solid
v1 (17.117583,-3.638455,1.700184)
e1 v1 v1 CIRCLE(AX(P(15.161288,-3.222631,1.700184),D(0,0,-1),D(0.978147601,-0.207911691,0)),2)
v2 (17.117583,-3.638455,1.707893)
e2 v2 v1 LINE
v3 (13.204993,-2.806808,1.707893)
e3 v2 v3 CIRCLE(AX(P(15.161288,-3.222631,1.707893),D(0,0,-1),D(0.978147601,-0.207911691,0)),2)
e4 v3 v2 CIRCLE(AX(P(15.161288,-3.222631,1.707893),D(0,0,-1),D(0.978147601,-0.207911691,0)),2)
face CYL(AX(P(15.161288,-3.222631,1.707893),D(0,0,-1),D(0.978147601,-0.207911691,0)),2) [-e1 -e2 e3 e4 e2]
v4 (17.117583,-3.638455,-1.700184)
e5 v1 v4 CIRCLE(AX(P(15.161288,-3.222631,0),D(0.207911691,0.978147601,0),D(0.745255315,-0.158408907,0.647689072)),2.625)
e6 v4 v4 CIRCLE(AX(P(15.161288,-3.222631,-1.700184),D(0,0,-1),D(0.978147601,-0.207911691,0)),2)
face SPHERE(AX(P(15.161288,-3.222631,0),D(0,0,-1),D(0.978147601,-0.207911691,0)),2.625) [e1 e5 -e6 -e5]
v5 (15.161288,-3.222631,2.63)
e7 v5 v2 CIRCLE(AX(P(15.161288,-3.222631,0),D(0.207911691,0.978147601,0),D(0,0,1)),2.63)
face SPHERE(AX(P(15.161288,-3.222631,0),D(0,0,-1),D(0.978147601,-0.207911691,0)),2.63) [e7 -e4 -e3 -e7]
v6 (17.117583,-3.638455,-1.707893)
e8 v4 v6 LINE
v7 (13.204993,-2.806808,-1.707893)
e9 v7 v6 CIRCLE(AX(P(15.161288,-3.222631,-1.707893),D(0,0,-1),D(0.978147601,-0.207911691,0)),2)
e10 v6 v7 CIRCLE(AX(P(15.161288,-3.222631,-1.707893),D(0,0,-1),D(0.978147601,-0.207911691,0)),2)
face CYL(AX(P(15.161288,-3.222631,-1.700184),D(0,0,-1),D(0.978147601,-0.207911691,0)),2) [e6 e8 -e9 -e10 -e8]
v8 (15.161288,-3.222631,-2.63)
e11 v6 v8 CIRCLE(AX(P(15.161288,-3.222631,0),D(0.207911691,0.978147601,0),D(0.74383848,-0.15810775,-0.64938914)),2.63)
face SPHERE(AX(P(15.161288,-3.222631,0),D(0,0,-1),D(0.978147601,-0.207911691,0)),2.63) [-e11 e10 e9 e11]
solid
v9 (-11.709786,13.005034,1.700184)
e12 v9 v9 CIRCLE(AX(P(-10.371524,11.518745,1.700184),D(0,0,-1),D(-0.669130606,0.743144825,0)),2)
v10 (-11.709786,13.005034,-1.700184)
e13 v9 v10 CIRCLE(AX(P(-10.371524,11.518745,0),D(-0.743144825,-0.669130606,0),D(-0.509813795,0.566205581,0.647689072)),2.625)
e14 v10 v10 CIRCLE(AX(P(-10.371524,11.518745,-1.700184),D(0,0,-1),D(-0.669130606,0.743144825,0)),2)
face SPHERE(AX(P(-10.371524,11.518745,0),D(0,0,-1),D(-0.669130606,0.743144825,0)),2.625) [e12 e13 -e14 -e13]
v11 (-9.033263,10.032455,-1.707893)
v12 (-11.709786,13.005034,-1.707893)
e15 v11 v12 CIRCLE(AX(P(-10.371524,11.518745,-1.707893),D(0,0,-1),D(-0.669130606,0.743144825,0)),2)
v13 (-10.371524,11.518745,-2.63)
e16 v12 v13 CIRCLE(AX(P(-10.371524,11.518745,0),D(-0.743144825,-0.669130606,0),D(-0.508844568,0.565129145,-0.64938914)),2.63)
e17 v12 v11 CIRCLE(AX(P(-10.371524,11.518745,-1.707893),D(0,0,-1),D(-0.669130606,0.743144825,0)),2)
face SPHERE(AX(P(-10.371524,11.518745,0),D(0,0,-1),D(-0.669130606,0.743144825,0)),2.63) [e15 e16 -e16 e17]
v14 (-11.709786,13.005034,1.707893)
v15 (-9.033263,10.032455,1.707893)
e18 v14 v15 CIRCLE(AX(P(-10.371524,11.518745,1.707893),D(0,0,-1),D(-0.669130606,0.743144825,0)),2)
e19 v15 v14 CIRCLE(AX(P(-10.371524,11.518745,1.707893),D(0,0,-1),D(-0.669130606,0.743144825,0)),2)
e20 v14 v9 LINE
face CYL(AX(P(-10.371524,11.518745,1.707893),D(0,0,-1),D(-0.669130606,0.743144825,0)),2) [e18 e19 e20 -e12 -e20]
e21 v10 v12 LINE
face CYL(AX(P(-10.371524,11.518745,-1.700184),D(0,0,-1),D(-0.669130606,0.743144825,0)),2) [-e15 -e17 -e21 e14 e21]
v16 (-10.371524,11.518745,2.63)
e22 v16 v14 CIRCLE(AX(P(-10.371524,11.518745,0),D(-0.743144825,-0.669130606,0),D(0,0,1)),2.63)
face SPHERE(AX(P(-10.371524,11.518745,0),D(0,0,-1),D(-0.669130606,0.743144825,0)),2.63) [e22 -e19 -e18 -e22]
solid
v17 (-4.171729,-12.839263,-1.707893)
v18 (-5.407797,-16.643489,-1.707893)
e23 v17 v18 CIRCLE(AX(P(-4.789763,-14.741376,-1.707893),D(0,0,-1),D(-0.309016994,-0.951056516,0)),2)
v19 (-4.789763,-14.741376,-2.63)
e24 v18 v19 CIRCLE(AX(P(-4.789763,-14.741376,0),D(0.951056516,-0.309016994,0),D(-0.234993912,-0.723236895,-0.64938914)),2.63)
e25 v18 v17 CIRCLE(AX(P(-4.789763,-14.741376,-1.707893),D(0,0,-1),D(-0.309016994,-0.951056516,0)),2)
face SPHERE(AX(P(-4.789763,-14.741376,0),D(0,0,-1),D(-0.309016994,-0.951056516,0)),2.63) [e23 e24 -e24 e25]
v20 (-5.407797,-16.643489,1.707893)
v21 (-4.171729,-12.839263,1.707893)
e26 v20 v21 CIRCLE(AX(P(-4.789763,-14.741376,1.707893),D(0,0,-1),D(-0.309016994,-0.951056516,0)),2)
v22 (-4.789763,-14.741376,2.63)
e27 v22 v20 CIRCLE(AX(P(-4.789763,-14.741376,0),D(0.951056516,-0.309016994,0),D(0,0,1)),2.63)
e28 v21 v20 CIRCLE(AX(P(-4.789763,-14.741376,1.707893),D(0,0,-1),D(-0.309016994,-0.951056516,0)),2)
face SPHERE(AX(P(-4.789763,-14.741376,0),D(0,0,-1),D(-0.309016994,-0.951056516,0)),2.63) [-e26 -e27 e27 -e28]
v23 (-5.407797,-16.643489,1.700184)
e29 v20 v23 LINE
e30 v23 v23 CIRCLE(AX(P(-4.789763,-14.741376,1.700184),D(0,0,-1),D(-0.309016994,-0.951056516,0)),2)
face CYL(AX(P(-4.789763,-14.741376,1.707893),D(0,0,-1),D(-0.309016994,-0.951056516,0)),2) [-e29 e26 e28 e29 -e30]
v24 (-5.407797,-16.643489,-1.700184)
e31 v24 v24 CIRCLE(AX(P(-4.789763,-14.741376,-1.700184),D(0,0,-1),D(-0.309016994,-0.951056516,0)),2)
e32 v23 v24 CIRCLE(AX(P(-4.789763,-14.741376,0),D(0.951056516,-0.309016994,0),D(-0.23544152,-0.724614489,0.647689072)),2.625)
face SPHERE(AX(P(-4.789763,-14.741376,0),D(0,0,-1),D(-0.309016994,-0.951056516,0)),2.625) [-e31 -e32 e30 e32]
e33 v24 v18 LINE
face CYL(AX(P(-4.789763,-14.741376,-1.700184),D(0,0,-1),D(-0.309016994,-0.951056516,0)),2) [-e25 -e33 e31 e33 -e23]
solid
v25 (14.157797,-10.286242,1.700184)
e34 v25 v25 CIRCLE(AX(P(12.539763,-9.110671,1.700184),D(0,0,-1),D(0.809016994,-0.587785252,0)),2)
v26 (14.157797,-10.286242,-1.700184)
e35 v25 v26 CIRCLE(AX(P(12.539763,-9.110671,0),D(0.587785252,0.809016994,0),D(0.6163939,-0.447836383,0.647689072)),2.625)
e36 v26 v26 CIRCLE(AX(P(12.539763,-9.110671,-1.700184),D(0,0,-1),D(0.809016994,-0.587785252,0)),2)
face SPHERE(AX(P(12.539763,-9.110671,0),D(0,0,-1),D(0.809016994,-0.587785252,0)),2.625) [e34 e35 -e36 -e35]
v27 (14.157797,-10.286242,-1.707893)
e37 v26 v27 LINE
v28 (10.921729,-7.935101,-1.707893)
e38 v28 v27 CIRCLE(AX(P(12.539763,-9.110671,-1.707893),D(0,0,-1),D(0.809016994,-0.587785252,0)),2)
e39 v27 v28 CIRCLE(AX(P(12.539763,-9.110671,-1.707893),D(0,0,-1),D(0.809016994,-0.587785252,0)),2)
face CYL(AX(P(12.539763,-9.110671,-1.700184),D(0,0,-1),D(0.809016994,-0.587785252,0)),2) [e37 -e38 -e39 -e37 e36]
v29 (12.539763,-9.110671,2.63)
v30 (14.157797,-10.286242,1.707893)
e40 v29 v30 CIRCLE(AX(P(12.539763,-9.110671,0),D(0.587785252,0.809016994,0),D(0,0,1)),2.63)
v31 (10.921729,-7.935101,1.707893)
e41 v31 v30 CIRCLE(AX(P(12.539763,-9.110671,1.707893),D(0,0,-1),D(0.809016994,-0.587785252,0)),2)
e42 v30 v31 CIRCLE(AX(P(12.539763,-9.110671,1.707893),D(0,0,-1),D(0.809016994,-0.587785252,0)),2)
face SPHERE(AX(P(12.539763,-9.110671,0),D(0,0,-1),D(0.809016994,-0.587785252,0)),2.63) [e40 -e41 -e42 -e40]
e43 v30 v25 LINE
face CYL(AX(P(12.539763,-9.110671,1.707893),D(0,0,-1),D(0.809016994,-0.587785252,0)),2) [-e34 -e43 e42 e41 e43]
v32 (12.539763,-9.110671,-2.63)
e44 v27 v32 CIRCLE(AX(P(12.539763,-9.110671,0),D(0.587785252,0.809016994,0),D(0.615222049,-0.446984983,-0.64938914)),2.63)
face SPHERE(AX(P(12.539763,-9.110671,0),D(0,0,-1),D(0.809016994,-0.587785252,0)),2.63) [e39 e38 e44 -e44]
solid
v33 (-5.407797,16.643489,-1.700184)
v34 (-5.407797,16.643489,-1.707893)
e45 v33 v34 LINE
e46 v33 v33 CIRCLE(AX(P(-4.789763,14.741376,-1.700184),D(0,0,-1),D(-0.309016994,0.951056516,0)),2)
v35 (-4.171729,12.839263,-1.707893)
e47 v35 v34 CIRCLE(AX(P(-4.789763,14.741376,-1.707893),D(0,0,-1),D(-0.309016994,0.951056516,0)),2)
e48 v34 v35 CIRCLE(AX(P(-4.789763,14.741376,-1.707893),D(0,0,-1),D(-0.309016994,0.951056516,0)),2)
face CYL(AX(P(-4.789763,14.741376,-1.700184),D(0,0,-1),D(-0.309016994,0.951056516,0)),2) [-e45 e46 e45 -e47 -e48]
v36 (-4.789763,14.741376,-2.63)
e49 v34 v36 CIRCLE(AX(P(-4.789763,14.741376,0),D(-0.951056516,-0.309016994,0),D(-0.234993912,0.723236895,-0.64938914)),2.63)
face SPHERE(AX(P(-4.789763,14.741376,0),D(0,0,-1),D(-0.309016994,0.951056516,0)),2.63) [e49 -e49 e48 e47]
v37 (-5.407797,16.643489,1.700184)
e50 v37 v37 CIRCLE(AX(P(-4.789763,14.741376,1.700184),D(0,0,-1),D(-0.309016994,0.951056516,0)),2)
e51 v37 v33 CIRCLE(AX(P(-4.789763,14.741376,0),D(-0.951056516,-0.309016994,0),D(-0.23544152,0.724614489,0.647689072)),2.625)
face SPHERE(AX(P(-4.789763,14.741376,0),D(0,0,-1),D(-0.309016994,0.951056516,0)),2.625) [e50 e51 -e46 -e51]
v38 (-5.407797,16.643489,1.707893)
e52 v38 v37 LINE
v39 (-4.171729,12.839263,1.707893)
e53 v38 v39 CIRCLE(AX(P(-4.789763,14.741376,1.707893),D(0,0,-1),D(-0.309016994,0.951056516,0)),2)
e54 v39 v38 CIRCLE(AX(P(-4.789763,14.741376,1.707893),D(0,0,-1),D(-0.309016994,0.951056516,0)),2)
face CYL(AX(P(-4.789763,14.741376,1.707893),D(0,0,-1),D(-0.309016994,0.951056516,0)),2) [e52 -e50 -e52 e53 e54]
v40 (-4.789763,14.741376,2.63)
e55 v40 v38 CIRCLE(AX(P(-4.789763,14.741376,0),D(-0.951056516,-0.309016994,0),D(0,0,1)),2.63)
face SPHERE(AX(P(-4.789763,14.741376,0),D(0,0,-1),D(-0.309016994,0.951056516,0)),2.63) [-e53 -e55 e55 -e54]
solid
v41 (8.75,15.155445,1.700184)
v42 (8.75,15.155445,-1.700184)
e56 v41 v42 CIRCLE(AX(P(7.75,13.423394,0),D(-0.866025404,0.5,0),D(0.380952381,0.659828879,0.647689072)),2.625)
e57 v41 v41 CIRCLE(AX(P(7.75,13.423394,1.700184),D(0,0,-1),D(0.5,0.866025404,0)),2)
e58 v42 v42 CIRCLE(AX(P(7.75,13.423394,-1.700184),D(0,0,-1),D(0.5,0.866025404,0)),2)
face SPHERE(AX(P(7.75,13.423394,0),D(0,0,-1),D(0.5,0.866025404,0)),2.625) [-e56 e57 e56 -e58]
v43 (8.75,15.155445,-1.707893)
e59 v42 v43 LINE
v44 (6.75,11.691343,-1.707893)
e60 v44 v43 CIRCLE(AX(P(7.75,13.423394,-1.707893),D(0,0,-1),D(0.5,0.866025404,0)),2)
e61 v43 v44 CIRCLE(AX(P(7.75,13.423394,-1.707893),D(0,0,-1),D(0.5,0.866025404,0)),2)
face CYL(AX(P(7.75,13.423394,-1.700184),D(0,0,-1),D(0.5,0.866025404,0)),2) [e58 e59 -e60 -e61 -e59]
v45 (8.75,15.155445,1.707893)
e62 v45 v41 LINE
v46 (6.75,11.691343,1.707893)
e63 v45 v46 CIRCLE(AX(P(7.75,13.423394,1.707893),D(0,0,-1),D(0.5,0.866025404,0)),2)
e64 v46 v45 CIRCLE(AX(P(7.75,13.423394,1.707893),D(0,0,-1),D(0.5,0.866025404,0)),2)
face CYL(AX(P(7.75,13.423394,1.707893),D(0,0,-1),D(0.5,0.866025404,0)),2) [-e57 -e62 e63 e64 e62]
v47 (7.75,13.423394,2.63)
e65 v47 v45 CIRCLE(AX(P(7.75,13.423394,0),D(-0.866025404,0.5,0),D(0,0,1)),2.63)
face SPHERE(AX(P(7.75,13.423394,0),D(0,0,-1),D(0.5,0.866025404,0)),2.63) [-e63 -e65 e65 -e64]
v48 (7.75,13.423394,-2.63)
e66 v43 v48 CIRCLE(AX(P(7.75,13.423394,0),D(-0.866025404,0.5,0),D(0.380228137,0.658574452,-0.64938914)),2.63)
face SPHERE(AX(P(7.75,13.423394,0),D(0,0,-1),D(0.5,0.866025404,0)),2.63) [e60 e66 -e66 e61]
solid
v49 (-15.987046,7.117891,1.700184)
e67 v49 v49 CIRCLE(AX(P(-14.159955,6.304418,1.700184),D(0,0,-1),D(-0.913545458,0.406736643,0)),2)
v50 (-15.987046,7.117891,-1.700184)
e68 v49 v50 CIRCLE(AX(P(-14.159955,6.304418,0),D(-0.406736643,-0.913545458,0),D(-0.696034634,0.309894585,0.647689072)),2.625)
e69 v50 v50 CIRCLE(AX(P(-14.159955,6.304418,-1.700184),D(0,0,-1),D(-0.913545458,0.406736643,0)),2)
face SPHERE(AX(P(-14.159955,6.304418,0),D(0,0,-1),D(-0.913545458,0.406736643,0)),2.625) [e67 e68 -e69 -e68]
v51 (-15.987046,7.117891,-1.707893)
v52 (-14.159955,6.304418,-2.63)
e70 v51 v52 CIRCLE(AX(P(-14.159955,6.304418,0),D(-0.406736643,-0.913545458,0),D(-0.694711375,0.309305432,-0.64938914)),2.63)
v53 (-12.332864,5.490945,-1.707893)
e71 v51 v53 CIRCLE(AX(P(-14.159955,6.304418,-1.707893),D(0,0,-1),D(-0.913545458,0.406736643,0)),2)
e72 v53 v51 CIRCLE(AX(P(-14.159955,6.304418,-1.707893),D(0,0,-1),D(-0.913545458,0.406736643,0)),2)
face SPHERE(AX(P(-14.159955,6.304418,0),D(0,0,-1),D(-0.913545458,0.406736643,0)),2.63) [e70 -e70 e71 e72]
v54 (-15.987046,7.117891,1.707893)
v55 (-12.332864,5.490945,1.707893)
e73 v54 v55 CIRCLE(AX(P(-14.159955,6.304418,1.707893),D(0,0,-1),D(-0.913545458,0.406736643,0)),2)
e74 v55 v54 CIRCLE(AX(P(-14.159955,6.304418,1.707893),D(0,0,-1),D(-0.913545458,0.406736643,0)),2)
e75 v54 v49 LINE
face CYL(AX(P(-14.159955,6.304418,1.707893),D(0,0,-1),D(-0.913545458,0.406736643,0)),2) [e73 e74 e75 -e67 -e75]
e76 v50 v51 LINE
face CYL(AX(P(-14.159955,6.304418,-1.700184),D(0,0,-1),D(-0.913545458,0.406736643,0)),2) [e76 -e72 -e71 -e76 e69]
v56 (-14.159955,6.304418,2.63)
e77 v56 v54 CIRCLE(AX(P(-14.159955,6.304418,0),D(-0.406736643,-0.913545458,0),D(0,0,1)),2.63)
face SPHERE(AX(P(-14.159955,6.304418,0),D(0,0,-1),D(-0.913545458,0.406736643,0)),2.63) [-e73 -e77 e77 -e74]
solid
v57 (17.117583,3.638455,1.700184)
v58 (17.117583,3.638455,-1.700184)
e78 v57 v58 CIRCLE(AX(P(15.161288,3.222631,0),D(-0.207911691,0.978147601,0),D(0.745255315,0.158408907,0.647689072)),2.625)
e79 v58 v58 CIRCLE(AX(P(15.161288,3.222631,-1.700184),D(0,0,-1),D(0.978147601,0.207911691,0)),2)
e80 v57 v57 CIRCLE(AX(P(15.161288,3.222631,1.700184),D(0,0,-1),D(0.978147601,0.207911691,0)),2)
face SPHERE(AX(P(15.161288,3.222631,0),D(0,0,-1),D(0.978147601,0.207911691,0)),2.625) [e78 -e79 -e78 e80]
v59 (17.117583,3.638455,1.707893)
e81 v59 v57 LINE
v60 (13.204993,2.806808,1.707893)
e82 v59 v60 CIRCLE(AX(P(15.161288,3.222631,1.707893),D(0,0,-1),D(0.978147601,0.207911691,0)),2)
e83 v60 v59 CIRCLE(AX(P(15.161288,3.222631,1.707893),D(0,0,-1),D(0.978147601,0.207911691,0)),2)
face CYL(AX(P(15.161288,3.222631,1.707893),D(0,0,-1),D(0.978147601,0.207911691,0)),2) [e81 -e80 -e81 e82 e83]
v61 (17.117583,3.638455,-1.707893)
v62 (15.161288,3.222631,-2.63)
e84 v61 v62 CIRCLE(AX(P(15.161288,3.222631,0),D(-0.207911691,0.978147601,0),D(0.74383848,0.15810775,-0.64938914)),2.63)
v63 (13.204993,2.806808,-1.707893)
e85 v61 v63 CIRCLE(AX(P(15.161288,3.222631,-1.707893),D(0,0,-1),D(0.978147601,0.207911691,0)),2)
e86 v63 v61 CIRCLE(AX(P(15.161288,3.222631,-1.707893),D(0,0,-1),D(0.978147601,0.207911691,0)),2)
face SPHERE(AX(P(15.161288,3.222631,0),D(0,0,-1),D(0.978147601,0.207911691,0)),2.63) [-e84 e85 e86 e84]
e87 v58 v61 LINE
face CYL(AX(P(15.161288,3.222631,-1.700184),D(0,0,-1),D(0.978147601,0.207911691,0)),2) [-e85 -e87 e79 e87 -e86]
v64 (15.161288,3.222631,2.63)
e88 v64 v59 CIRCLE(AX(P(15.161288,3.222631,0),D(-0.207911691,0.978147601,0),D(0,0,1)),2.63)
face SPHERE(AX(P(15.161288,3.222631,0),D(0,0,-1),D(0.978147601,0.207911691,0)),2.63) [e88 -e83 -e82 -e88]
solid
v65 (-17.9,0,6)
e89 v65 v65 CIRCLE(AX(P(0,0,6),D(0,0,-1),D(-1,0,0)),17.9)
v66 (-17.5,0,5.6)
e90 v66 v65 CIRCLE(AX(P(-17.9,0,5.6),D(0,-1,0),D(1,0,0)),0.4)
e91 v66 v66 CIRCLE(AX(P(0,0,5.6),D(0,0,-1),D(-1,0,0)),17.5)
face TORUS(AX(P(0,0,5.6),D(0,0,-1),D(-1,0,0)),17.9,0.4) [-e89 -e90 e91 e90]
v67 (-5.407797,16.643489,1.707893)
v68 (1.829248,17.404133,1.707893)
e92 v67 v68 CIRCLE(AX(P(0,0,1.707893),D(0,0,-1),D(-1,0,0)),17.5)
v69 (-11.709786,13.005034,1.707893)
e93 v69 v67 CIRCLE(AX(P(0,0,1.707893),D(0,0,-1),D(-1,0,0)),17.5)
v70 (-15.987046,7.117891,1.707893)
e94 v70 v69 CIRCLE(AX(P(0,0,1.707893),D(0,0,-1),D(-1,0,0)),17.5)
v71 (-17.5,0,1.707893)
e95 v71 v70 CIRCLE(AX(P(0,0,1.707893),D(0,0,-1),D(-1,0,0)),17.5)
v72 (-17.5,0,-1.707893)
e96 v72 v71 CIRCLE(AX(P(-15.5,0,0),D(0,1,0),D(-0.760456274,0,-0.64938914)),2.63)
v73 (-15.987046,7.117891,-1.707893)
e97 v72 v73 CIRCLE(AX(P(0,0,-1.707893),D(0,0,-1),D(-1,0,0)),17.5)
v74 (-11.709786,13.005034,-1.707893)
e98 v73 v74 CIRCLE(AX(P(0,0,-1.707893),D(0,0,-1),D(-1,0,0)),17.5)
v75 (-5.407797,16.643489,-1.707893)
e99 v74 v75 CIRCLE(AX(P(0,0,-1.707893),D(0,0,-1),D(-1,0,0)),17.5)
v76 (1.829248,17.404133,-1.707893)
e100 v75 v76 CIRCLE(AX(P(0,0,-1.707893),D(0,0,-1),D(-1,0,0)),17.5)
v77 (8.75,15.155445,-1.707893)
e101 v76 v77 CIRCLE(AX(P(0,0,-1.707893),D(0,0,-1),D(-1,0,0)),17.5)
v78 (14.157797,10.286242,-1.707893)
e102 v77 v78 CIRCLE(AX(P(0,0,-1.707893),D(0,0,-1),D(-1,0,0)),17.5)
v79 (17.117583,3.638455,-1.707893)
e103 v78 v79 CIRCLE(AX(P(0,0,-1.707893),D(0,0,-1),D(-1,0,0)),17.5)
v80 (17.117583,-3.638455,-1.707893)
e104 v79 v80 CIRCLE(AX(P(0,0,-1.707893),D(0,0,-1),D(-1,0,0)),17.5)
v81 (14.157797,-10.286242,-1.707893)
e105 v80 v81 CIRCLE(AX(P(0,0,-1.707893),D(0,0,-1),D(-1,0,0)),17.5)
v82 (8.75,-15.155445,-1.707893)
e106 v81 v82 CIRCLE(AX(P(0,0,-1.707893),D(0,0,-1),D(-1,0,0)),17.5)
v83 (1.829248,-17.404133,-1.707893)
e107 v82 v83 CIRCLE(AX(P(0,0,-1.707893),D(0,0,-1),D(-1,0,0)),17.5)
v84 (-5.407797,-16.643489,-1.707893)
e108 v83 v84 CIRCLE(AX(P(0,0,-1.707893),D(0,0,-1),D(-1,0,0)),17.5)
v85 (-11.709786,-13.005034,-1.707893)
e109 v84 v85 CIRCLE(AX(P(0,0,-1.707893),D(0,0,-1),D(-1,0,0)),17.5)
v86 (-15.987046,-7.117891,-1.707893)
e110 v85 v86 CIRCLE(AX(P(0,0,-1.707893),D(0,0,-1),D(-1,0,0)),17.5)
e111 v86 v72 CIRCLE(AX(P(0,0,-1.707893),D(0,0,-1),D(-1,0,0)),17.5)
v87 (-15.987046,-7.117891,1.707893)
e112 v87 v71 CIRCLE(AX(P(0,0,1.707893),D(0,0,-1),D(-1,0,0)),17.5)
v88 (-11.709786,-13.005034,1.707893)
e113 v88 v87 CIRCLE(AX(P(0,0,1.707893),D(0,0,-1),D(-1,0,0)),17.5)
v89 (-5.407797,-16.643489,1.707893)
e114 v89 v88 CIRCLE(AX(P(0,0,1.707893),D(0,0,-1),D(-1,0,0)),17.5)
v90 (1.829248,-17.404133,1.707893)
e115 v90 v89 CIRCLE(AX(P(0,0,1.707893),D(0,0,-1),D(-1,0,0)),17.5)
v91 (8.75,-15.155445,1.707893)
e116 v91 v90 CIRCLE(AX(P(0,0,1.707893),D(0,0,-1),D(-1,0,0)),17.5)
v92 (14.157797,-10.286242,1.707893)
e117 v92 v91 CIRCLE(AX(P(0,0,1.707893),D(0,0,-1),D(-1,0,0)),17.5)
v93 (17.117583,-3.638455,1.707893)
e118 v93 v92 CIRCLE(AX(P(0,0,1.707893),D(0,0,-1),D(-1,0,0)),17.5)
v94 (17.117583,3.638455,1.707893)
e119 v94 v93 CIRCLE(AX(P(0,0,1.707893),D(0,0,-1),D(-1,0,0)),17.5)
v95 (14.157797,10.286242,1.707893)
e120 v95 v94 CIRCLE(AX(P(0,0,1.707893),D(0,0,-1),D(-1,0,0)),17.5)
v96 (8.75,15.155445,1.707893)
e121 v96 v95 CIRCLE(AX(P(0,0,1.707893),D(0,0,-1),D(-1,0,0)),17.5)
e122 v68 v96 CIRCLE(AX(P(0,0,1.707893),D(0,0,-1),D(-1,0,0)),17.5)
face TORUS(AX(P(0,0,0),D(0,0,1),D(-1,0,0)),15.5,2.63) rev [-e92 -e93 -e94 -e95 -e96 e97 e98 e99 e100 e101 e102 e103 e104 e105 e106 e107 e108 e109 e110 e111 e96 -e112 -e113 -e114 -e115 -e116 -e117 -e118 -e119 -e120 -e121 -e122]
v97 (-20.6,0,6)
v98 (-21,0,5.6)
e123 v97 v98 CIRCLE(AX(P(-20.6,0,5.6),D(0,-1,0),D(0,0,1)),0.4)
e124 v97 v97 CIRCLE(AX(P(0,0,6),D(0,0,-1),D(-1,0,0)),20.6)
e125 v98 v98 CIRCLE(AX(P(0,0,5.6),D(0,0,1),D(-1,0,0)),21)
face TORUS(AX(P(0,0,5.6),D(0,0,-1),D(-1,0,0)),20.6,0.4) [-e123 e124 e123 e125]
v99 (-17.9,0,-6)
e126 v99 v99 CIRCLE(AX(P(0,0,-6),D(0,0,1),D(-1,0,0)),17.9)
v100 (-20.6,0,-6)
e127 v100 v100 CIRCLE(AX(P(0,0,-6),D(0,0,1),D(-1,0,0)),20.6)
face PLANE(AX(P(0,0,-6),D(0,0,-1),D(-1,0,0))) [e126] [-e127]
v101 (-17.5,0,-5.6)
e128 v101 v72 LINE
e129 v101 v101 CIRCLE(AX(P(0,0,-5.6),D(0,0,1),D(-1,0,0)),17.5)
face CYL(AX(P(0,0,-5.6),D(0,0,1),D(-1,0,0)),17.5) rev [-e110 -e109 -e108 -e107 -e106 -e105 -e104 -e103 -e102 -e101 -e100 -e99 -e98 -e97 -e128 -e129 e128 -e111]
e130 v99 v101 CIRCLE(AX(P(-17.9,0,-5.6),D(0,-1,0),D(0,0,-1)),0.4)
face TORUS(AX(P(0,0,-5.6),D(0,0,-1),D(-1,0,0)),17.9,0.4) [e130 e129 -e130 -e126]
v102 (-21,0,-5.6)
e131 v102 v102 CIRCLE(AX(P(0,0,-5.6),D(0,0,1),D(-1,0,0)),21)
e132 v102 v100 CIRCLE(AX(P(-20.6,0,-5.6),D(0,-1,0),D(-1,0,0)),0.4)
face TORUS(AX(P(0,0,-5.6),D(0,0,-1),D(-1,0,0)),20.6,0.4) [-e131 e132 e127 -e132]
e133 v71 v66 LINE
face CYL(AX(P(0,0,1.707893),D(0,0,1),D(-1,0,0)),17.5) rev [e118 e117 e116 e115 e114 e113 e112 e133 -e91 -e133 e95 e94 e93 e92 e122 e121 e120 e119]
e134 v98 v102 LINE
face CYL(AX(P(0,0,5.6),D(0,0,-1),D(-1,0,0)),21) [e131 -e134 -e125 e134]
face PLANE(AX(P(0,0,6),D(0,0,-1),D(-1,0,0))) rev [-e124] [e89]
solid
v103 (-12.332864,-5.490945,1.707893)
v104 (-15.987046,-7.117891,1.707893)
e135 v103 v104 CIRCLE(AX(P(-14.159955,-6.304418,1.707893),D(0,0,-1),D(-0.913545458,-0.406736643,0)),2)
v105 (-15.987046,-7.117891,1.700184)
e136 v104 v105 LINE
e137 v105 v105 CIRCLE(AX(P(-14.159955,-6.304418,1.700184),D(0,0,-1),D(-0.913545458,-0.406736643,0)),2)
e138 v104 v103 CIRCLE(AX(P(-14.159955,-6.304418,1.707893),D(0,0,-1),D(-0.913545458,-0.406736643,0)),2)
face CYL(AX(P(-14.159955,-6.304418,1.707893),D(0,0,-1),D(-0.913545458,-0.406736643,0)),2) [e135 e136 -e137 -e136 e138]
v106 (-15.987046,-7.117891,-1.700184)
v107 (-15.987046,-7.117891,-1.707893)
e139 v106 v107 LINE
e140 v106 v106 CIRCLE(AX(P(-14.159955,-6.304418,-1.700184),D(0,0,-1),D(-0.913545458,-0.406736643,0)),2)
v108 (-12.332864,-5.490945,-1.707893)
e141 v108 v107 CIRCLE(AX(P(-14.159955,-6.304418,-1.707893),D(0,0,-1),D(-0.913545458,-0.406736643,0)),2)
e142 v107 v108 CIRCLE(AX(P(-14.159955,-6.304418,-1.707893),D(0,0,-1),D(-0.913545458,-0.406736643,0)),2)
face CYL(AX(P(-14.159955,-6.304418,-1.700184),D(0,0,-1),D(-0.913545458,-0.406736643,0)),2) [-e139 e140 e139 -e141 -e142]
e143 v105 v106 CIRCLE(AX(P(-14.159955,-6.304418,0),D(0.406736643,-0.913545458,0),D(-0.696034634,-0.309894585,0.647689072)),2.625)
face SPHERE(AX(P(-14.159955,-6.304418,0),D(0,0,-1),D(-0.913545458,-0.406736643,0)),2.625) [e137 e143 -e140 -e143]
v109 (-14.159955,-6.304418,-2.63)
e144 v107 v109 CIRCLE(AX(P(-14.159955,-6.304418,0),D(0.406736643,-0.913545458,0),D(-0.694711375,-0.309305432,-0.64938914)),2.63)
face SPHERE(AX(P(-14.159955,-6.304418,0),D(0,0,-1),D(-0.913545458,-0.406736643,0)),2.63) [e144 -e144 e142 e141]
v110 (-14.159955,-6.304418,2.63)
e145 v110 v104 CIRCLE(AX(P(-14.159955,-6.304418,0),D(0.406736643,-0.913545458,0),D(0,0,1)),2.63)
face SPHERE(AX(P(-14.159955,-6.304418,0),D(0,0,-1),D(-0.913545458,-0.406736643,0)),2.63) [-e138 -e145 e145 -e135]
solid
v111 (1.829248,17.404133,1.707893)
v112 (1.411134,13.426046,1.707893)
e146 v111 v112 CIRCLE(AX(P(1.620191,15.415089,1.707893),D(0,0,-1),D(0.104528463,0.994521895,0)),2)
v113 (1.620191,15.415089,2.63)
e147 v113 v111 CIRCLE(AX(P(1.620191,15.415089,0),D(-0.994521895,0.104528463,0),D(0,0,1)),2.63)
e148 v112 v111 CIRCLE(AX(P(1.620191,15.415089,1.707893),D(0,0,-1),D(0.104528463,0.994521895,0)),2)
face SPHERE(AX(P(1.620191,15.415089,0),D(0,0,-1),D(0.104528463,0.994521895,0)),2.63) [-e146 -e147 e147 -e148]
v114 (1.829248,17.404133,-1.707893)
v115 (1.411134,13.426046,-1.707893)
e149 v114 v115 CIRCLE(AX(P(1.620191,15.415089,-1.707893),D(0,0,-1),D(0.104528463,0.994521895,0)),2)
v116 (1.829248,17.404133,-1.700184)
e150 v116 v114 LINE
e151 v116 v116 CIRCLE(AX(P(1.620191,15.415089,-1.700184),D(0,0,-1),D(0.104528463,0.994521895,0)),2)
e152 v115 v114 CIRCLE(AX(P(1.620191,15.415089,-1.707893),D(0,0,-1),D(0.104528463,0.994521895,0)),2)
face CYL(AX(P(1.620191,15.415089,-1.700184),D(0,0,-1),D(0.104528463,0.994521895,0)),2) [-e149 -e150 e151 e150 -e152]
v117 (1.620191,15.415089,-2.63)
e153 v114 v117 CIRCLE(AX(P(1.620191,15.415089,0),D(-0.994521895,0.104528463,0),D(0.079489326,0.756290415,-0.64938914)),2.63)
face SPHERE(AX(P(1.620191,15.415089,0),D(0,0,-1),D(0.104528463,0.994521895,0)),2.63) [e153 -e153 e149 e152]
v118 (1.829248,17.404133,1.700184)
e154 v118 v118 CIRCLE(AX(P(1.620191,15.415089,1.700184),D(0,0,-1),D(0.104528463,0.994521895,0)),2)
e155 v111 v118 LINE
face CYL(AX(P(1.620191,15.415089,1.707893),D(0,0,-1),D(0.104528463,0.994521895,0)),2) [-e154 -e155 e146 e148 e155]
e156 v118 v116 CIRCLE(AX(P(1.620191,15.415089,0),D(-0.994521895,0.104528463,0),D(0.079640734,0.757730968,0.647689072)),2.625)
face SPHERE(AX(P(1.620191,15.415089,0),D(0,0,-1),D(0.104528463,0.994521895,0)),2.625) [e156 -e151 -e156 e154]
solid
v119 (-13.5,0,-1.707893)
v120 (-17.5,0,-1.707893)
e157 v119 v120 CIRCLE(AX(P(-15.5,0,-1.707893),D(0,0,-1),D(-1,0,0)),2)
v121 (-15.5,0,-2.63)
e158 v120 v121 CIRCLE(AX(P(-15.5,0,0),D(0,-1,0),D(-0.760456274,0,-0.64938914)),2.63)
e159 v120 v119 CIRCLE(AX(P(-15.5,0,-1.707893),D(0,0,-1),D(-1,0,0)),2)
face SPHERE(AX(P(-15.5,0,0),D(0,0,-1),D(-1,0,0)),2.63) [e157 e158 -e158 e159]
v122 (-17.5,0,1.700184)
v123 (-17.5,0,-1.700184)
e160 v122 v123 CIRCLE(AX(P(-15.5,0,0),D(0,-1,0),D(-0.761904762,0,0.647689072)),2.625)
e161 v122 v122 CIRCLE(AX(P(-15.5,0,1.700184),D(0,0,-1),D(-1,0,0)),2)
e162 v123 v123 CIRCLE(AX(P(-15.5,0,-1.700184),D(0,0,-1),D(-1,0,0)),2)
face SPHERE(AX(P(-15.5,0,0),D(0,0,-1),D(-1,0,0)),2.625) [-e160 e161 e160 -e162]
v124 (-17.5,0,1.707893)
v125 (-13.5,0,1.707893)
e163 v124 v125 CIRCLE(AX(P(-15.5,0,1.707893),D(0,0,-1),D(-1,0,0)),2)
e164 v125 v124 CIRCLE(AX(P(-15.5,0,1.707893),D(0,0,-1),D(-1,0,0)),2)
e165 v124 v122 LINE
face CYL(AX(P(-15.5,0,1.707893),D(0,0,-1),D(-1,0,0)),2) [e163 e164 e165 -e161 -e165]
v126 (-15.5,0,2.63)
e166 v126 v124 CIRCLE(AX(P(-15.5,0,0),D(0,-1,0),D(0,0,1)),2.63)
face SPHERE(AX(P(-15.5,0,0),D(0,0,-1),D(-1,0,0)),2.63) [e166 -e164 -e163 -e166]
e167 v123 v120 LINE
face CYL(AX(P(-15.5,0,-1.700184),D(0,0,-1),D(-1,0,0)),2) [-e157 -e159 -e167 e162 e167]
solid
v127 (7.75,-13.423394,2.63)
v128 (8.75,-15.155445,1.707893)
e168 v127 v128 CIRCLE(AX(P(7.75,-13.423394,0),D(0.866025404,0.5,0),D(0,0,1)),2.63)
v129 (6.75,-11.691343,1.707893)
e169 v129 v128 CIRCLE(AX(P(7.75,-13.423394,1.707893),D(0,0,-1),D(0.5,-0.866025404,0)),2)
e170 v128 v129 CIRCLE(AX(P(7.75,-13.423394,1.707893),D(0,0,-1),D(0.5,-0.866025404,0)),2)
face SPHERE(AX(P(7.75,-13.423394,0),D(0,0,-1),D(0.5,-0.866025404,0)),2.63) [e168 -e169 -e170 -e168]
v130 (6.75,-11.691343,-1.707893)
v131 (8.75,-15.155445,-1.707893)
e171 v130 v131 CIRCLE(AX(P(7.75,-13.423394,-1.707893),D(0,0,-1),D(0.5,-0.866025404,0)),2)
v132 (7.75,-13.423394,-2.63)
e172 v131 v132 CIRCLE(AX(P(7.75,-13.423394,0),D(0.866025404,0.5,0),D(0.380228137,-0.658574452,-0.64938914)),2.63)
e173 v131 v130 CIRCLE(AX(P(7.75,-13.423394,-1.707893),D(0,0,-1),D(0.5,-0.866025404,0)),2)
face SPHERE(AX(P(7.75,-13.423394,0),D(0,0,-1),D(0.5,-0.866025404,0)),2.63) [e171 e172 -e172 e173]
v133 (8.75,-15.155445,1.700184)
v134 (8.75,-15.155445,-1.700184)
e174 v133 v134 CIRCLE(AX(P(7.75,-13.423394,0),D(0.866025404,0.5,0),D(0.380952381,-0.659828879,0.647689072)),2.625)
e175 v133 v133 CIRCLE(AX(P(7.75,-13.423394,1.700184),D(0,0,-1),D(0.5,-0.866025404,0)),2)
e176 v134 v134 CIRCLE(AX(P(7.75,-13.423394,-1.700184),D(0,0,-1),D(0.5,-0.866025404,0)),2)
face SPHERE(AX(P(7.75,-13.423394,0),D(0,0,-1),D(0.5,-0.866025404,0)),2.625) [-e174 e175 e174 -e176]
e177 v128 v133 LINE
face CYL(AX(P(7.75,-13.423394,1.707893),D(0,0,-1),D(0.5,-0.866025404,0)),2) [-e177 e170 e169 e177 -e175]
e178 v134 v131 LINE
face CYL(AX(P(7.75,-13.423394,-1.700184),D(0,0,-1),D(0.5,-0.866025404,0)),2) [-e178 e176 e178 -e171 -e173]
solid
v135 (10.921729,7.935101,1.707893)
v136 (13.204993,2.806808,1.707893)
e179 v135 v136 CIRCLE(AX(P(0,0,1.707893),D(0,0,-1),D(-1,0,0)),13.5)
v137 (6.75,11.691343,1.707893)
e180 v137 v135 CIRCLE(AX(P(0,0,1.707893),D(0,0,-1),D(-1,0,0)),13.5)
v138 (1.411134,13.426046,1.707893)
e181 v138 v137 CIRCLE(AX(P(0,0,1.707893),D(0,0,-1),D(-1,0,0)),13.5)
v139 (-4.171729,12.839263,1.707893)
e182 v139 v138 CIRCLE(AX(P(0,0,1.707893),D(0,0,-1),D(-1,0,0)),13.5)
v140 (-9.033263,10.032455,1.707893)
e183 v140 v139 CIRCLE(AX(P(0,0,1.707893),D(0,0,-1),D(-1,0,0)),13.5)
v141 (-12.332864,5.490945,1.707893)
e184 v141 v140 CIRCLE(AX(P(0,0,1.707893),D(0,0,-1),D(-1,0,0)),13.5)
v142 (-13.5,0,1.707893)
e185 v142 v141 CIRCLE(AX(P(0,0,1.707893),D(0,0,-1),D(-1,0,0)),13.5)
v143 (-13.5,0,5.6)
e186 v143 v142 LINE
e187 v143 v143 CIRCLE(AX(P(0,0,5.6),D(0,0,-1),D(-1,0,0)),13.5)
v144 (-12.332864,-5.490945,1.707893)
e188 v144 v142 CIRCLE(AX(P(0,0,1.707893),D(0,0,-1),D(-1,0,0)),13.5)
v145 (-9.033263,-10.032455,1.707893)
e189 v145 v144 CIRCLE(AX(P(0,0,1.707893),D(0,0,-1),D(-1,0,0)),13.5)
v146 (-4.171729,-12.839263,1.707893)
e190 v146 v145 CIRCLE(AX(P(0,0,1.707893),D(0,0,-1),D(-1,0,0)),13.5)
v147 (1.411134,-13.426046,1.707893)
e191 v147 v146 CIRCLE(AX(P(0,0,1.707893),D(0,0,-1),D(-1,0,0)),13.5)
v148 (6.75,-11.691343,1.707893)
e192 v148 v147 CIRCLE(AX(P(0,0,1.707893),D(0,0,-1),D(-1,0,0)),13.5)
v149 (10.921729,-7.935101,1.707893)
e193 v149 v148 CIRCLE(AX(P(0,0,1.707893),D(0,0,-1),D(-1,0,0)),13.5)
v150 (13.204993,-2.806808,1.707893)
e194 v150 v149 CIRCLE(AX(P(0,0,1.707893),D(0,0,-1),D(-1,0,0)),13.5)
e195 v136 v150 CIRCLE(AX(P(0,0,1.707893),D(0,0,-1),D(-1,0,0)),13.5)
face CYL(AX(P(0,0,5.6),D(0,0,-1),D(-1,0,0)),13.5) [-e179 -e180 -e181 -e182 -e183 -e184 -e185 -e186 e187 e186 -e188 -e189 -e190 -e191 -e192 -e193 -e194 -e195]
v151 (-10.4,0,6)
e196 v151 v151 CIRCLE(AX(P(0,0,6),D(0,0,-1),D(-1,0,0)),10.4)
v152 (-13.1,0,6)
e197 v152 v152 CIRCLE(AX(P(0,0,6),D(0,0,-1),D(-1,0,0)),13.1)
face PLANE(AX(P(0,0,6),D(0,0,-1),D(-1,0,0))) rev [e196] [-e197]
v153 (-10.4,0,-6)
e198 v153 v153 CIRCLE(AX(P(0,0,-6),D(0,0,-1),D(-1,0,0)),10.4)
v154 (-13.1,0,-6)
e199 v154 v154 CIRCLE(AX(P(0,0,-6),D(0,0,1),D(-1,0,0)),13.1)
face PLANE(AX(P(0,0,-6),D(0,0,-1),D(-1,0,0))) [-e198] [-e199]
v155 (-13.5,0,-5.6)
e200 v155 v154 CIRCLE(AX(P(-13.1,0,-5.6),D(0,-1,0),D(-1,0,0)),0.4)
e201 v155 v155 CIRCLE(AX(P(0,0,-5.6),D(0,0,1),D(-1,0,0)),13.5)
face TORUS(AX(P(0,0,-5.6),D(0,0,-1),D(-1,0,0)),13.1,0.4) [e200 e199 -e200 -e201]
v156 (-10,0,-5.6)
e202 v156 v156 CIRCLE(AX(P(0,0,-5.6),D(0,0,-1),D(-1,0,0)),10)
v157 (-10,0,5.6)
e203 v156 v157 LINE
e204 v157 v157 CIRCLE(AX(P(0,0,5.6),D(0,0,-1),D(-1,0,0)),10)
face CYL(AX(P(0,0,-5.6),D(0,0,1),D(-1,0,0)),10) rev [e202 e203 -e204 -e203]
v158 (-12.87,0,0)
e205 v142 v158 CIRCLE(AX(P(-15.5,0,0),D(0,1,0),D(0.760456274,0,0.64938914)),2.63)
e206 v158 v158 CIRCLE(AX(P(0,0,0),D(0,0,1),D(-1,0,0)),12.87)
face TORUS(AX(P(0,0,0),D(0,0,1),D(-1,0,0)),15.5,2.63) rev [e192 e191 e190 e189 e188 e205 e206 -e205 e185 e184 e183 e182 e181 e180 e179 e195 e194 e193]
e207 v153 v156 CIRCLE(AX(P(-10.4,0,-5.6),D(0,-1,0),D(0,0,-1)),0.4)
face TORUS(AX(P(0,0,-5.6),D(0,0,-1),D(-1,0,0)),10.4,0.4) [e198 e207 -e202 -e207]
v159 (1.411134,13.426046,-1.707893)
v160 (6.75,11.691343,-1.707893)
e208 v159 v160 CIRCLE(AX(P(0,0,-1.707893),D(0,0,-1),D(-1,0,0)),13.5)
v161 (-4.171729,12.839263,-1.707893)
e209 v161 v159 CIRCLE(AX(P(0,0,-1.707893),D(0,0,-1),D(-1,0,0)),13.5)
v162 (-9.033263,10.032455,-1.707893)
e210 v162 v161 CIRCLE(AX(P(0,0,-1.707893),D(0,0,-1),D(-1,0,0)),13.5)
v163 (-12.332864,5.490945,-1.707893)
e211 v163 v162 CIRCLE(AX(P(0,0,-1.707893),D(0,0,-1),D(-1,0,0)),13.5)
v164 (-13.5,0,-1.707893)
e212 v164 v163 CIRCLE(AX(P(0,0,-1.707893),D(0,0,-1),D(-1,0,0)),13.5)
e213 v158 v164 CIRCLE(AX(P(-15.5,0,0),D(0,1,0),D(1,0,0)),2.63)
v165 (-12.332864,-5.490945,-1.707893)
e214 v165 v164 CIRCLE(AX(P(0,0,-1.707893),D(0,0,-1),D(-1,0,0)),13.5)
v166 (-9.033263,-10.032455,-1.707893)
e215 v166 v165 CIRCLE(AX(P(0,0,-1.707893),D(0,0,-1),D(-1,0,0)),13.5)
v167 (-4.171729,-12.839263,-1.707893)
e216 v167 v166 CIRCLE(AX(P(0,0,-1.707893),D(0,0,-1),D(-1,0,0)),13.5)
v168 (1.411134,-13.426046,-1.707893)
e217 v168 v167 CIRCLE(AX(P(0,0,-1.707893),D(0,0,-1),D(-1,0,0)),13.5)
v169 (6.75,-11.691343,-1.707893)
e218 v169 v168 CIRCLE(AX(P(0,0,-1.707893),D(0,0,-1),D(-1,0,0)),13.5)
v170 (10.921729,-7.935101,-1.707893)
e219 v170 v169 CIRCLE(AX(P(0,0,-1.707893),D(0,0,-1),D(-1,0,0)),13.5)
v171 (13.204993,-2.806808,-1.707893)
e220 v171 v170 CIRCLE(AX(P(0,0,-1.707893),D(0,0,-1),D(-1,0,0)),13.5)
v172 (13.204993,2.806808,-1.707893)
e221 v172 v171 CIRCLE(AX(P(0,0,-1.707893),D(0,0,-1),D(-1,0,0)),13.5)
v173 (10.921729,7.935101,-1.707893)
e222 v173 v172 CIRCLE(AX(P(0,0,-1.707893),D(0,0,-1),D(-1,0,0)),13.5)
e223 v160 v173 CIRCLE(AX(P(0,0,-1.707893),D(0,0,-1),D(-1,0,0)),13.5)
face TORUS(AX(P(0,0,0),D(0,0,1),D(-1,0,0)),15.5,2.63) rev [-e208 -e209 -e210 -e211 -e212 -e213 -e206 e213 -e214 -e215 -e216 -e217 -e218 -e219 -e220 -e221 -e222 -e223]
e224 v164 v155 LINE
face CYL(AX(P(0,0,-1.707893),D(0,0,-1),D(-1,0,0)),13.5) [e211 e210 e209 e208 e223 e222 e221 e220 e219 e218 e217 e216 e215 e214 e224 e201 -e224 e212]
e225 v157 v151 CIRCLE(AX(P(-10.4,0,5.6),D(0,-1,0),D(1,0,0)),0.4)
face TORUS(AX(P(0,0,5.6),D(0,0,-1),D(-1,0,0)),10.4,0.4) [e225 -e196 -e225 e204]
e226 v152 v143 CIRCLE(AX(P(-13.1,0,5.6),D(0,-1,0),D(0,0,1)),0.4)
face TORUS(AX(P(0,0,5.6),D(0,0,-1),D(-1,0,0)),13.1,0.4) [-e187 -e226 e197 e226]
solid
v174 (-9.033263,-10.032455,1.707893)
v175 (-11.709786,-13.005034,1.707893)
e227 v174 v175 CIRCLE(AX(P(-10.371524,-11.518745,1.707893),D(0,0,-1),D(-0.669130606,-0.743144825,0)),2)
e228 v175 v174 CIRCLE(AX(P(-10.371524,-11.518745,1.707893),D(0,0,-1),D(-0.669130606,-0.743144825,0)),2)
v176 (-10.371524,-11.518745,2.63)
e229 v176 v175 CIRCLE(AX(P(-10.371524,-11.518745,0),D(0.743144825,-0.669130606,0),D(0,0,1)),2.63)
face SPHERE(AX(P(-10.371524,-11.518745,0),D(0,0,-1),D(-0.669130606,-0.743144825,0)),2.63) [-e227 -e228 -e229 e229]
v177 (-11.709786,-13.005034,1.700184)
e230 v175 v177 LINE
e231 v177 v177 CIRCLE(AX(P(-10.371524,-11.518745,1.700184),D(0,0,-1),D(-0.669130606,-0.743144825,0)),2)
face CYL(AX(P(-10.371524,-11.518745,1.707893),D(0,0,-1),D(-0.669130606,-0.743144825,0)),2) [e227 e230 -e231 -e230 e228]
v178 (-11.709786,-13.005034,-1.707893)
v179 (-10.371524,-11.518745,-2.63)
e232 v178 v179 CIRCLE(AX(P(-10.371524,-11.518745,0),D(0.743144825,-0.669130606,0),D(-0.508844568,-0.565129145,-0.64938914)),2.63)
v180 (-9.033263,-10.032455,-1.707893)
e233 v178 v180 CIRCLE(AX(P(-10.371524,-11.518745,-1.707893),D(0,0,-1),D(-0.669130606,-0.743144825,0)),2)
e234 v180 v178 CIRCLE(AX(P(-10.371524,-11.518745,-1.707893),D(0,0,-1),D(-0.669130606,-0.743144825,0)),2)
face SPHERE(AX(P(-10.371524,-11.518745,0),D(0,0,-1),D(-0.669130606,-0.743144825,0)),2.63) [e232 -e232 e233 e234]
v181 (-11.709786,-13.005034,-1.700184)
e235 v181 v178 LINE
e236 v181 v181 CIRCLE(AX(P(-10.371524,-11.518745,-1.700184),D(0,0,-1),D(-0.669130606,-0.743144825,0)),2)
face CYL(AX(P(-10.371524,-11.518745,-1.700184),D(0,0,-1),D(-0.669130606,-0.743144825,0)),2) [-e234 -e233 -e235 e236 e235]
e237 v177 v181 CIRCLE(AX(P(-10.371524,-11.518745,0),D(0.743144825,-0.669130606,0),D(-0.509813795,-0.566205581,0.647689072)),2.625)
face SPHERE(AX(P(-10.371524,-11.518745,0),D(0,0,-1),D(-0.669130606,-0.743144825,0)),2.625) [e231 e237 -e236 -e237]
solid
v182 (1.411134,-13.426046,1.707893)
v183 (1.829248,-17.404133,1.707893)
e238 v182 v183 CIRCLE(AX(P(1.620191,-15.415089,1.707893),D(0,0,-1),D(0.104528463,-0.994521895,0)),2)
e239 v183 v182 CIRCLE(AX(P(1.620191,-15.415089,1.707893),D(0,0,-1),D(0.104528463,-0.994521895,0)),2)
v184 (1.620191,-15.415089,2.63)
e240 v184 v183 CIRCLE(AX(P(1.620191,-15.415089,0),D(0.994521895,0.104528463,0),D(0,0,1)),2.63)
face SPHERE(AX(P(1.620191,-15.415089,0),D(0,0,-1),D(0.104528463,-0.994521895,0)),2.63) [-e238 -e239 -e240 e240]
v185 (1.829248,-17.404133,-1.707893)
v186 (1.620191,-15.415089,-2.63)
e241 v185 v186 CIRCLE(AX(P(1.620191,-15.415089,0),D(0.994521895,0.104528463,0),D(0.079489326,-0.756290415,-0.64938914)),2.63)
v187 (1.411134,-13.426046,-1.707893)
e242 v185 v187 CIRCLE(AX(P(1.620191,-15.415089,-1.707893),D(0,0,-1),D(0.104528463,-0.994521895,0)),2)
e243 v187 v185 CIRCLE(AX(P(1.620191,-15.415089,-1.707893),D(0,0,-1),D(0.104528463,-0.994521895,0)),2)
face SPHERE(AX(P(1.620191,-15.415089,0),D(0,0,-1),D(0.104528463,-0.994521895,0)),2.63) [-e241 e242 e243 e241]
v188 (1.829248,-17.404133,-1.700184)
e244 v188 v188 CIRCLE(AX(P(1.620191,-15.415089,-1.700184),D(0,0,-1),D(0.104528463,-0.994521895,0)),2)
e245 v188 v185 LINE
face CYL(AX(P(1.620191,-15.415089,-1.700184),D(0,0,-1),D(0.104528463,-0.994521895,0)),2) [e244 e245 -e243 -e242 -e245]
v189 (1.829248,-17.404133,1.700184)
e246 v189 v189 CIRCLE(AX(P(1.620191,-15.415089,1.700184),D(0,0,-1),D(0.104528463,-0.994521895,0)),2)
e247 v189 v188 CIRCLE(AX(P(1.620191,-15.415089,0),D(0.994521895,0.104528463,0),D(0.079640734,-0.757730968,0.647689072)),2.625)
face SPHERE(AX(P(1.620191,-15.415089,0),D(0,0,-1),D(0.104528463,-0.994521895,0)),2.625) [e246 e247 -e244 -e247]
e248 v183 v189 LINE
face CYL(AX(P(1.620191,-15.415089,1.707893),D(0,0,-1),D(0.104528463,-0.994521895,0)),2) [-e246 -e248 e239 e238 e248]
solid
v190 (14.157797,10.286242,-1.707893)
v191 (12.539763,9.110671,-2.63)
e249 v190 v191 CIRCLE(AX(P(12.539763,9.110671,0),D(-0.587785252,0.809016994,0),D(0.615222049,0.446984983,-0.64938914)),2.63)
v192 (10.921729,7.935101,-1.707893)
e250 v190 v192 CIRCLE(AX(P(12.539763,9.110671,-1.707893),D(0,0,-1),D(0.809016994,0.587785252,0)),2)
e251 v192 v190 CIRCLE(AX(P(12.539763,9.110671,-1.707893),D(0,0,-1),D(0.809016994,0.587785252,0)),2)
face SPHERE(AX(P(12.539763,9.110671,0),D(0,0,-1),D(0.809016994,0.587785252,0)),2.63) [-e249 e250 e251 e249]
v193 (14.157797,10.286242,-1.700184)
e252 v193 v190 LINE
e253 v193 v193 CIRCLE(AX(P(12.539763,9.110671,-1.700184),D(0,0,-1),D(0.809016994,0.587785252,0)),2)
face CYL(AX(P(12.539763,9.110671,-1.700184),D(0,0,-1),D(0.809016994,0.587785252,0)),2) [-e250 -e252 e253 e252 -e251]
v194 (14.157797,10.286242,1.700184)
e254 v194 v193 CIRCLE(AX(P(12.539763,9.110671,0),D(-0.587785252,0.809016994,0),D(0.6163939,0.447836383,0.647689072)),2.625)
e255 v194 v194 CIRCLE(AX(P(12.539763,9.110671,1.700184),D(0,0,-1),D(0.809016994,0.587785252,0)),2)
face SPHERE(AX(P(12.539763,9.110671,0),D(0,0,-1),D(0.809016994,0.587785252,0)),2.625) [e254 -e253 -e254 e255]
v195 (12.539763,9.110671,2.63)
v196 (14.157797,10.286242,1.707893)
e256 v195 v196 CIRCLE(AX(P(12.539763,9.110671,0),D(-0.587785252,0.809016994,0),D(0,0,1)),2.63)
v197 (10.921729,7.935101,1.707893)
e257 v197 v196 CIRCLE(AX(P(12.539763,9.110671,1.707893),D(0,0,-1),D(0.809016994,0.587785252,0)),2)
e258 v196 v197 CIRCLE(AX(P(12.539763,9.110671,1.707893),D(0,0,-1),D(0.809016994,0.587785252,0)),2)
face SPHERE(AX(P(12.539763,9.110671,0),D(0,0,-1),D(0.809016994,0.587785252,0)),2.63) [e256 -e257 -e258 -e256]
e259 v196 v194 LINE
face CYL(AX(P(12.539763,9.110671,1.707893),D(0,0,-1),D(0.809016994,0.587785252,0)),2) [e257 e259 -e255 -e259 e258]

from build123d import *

# Parameters (mm, degrees)
F4_COUNT = 15


with BuildPart() as f1:
    # F0 (on Front) → F1 (revolve)
    with BuildSketch(Plane.XZ):
        with BuildLine():
            Line((-13.5, 5.6), (-13.5, 1.7078934393))
            ThreePointArc((-13.5, 1.7078934393), (-13.03252153, 0.9101922874), (-12.87, 0))
            ThreePointArc((-12.87, 0), (-13.03252153, -0.9101922874), (-13.5, -1.7078934393))
            Line((-13.5, -1.7078934393), (-13.5, -5.6))
            ThreePointArc((-13.5, -5.6), (-13.3828427125, -5.8828427125), (-13.1, -6))
            Line((-13.1, -6), (-10.4, -6))
            ThreePointArc((-10.4, -6), (-10.1171572875, -5.8828427125), (-10, -5.6))
            Line((-10, -5.6), (-10, 5.6))
            ThreePointArc((-10, 5.6), (-10.1171572875, 5.8828427125), (-10.4, 6))
            Line((-10.4, 6), (-13.1, 6))
            ThreePointArc((-13.1, 6), (-13.3828427125, 5.8828427125), (-13.5, 5.6))
        make_face()
    revolve(axis=Axis((0, 0, 0), (0, 0, -1)))

    # F0 (on Front) → F2 (revolve)
    with BuildSketch(Plane.XZ):
        with BuildLine():
            ThreePointArc((-15.5, 2.63), (-16.60116762, 2.3883738972), (-17.5, 1.7078934393))
            Line((-17.5, 1.7078934393), (-17.5, 1.7001838136))
            ThreePointArc((-17.5, 1.7001838136), (-18.125, 0), (-17.5, -1.7001838136))
            Line((-17.5, -1.7001838136), (-17.5, -1.7078934393))
            ThreePointArc((-17.5, -1.7078934393), (-16.60116762, -2.3883738972), (-15.5, -2.63))
            Line((-15.5, -2.63), (-15.5, 2.63))
        make_face()
    revolve(axis=Axis((-15.5, 0, 0), (0, 0, -1)))

    # F0 (on Front) → F3 (revolve)
    with BuildSketch(Plane.XZ):
        with BuildLine():
            ThreePointArc((-20.6, 6), (-20.8828427125, 5.8828427125), (-21, 5.6))
            Line((-21, 5.6), (-21, -5.6))
            ThreePointArc((-21, -5.6), (-20.8828427125, -5.8828427125), (-20.6, -6))
            Line((-20.6, -6), (-17.9, -6))
            ThreePointArc((-17.9, -6), (-17.6171572875, -5.8828427125), (-17.5, -5.6))
            Line((-17.5, -5.6), (-17.5, -1.7078934393))
            ThreePointArc((-17.5, -1.7078934393), (-18.13, 0), (-17.5, 1.7078934393))
            Line((-17.5, 1.7078934393), (-17.5, 5.6))
            ThreePointArc((-17.5, 5.6), (-17.6171572875, 5.8828427125), (-17.9, 6))
            Line((-17.9, 6), (-20.6, 6))
        make_face()
    revolve(axis=Axis((0, 0, 0), (0, 0, -1)))

    # F4: F1 ×15 about axis
    f4_axis = Axis((0, 0, 0), (0, 0, -1))


with BuildPart() as f1_1:
    add(f1.part)
    for i in range(1, F4_COUNT):
        add(f1.part.rotate(f4_axis, i * 360 / F4_COUNT))


solid = f1_1.part
